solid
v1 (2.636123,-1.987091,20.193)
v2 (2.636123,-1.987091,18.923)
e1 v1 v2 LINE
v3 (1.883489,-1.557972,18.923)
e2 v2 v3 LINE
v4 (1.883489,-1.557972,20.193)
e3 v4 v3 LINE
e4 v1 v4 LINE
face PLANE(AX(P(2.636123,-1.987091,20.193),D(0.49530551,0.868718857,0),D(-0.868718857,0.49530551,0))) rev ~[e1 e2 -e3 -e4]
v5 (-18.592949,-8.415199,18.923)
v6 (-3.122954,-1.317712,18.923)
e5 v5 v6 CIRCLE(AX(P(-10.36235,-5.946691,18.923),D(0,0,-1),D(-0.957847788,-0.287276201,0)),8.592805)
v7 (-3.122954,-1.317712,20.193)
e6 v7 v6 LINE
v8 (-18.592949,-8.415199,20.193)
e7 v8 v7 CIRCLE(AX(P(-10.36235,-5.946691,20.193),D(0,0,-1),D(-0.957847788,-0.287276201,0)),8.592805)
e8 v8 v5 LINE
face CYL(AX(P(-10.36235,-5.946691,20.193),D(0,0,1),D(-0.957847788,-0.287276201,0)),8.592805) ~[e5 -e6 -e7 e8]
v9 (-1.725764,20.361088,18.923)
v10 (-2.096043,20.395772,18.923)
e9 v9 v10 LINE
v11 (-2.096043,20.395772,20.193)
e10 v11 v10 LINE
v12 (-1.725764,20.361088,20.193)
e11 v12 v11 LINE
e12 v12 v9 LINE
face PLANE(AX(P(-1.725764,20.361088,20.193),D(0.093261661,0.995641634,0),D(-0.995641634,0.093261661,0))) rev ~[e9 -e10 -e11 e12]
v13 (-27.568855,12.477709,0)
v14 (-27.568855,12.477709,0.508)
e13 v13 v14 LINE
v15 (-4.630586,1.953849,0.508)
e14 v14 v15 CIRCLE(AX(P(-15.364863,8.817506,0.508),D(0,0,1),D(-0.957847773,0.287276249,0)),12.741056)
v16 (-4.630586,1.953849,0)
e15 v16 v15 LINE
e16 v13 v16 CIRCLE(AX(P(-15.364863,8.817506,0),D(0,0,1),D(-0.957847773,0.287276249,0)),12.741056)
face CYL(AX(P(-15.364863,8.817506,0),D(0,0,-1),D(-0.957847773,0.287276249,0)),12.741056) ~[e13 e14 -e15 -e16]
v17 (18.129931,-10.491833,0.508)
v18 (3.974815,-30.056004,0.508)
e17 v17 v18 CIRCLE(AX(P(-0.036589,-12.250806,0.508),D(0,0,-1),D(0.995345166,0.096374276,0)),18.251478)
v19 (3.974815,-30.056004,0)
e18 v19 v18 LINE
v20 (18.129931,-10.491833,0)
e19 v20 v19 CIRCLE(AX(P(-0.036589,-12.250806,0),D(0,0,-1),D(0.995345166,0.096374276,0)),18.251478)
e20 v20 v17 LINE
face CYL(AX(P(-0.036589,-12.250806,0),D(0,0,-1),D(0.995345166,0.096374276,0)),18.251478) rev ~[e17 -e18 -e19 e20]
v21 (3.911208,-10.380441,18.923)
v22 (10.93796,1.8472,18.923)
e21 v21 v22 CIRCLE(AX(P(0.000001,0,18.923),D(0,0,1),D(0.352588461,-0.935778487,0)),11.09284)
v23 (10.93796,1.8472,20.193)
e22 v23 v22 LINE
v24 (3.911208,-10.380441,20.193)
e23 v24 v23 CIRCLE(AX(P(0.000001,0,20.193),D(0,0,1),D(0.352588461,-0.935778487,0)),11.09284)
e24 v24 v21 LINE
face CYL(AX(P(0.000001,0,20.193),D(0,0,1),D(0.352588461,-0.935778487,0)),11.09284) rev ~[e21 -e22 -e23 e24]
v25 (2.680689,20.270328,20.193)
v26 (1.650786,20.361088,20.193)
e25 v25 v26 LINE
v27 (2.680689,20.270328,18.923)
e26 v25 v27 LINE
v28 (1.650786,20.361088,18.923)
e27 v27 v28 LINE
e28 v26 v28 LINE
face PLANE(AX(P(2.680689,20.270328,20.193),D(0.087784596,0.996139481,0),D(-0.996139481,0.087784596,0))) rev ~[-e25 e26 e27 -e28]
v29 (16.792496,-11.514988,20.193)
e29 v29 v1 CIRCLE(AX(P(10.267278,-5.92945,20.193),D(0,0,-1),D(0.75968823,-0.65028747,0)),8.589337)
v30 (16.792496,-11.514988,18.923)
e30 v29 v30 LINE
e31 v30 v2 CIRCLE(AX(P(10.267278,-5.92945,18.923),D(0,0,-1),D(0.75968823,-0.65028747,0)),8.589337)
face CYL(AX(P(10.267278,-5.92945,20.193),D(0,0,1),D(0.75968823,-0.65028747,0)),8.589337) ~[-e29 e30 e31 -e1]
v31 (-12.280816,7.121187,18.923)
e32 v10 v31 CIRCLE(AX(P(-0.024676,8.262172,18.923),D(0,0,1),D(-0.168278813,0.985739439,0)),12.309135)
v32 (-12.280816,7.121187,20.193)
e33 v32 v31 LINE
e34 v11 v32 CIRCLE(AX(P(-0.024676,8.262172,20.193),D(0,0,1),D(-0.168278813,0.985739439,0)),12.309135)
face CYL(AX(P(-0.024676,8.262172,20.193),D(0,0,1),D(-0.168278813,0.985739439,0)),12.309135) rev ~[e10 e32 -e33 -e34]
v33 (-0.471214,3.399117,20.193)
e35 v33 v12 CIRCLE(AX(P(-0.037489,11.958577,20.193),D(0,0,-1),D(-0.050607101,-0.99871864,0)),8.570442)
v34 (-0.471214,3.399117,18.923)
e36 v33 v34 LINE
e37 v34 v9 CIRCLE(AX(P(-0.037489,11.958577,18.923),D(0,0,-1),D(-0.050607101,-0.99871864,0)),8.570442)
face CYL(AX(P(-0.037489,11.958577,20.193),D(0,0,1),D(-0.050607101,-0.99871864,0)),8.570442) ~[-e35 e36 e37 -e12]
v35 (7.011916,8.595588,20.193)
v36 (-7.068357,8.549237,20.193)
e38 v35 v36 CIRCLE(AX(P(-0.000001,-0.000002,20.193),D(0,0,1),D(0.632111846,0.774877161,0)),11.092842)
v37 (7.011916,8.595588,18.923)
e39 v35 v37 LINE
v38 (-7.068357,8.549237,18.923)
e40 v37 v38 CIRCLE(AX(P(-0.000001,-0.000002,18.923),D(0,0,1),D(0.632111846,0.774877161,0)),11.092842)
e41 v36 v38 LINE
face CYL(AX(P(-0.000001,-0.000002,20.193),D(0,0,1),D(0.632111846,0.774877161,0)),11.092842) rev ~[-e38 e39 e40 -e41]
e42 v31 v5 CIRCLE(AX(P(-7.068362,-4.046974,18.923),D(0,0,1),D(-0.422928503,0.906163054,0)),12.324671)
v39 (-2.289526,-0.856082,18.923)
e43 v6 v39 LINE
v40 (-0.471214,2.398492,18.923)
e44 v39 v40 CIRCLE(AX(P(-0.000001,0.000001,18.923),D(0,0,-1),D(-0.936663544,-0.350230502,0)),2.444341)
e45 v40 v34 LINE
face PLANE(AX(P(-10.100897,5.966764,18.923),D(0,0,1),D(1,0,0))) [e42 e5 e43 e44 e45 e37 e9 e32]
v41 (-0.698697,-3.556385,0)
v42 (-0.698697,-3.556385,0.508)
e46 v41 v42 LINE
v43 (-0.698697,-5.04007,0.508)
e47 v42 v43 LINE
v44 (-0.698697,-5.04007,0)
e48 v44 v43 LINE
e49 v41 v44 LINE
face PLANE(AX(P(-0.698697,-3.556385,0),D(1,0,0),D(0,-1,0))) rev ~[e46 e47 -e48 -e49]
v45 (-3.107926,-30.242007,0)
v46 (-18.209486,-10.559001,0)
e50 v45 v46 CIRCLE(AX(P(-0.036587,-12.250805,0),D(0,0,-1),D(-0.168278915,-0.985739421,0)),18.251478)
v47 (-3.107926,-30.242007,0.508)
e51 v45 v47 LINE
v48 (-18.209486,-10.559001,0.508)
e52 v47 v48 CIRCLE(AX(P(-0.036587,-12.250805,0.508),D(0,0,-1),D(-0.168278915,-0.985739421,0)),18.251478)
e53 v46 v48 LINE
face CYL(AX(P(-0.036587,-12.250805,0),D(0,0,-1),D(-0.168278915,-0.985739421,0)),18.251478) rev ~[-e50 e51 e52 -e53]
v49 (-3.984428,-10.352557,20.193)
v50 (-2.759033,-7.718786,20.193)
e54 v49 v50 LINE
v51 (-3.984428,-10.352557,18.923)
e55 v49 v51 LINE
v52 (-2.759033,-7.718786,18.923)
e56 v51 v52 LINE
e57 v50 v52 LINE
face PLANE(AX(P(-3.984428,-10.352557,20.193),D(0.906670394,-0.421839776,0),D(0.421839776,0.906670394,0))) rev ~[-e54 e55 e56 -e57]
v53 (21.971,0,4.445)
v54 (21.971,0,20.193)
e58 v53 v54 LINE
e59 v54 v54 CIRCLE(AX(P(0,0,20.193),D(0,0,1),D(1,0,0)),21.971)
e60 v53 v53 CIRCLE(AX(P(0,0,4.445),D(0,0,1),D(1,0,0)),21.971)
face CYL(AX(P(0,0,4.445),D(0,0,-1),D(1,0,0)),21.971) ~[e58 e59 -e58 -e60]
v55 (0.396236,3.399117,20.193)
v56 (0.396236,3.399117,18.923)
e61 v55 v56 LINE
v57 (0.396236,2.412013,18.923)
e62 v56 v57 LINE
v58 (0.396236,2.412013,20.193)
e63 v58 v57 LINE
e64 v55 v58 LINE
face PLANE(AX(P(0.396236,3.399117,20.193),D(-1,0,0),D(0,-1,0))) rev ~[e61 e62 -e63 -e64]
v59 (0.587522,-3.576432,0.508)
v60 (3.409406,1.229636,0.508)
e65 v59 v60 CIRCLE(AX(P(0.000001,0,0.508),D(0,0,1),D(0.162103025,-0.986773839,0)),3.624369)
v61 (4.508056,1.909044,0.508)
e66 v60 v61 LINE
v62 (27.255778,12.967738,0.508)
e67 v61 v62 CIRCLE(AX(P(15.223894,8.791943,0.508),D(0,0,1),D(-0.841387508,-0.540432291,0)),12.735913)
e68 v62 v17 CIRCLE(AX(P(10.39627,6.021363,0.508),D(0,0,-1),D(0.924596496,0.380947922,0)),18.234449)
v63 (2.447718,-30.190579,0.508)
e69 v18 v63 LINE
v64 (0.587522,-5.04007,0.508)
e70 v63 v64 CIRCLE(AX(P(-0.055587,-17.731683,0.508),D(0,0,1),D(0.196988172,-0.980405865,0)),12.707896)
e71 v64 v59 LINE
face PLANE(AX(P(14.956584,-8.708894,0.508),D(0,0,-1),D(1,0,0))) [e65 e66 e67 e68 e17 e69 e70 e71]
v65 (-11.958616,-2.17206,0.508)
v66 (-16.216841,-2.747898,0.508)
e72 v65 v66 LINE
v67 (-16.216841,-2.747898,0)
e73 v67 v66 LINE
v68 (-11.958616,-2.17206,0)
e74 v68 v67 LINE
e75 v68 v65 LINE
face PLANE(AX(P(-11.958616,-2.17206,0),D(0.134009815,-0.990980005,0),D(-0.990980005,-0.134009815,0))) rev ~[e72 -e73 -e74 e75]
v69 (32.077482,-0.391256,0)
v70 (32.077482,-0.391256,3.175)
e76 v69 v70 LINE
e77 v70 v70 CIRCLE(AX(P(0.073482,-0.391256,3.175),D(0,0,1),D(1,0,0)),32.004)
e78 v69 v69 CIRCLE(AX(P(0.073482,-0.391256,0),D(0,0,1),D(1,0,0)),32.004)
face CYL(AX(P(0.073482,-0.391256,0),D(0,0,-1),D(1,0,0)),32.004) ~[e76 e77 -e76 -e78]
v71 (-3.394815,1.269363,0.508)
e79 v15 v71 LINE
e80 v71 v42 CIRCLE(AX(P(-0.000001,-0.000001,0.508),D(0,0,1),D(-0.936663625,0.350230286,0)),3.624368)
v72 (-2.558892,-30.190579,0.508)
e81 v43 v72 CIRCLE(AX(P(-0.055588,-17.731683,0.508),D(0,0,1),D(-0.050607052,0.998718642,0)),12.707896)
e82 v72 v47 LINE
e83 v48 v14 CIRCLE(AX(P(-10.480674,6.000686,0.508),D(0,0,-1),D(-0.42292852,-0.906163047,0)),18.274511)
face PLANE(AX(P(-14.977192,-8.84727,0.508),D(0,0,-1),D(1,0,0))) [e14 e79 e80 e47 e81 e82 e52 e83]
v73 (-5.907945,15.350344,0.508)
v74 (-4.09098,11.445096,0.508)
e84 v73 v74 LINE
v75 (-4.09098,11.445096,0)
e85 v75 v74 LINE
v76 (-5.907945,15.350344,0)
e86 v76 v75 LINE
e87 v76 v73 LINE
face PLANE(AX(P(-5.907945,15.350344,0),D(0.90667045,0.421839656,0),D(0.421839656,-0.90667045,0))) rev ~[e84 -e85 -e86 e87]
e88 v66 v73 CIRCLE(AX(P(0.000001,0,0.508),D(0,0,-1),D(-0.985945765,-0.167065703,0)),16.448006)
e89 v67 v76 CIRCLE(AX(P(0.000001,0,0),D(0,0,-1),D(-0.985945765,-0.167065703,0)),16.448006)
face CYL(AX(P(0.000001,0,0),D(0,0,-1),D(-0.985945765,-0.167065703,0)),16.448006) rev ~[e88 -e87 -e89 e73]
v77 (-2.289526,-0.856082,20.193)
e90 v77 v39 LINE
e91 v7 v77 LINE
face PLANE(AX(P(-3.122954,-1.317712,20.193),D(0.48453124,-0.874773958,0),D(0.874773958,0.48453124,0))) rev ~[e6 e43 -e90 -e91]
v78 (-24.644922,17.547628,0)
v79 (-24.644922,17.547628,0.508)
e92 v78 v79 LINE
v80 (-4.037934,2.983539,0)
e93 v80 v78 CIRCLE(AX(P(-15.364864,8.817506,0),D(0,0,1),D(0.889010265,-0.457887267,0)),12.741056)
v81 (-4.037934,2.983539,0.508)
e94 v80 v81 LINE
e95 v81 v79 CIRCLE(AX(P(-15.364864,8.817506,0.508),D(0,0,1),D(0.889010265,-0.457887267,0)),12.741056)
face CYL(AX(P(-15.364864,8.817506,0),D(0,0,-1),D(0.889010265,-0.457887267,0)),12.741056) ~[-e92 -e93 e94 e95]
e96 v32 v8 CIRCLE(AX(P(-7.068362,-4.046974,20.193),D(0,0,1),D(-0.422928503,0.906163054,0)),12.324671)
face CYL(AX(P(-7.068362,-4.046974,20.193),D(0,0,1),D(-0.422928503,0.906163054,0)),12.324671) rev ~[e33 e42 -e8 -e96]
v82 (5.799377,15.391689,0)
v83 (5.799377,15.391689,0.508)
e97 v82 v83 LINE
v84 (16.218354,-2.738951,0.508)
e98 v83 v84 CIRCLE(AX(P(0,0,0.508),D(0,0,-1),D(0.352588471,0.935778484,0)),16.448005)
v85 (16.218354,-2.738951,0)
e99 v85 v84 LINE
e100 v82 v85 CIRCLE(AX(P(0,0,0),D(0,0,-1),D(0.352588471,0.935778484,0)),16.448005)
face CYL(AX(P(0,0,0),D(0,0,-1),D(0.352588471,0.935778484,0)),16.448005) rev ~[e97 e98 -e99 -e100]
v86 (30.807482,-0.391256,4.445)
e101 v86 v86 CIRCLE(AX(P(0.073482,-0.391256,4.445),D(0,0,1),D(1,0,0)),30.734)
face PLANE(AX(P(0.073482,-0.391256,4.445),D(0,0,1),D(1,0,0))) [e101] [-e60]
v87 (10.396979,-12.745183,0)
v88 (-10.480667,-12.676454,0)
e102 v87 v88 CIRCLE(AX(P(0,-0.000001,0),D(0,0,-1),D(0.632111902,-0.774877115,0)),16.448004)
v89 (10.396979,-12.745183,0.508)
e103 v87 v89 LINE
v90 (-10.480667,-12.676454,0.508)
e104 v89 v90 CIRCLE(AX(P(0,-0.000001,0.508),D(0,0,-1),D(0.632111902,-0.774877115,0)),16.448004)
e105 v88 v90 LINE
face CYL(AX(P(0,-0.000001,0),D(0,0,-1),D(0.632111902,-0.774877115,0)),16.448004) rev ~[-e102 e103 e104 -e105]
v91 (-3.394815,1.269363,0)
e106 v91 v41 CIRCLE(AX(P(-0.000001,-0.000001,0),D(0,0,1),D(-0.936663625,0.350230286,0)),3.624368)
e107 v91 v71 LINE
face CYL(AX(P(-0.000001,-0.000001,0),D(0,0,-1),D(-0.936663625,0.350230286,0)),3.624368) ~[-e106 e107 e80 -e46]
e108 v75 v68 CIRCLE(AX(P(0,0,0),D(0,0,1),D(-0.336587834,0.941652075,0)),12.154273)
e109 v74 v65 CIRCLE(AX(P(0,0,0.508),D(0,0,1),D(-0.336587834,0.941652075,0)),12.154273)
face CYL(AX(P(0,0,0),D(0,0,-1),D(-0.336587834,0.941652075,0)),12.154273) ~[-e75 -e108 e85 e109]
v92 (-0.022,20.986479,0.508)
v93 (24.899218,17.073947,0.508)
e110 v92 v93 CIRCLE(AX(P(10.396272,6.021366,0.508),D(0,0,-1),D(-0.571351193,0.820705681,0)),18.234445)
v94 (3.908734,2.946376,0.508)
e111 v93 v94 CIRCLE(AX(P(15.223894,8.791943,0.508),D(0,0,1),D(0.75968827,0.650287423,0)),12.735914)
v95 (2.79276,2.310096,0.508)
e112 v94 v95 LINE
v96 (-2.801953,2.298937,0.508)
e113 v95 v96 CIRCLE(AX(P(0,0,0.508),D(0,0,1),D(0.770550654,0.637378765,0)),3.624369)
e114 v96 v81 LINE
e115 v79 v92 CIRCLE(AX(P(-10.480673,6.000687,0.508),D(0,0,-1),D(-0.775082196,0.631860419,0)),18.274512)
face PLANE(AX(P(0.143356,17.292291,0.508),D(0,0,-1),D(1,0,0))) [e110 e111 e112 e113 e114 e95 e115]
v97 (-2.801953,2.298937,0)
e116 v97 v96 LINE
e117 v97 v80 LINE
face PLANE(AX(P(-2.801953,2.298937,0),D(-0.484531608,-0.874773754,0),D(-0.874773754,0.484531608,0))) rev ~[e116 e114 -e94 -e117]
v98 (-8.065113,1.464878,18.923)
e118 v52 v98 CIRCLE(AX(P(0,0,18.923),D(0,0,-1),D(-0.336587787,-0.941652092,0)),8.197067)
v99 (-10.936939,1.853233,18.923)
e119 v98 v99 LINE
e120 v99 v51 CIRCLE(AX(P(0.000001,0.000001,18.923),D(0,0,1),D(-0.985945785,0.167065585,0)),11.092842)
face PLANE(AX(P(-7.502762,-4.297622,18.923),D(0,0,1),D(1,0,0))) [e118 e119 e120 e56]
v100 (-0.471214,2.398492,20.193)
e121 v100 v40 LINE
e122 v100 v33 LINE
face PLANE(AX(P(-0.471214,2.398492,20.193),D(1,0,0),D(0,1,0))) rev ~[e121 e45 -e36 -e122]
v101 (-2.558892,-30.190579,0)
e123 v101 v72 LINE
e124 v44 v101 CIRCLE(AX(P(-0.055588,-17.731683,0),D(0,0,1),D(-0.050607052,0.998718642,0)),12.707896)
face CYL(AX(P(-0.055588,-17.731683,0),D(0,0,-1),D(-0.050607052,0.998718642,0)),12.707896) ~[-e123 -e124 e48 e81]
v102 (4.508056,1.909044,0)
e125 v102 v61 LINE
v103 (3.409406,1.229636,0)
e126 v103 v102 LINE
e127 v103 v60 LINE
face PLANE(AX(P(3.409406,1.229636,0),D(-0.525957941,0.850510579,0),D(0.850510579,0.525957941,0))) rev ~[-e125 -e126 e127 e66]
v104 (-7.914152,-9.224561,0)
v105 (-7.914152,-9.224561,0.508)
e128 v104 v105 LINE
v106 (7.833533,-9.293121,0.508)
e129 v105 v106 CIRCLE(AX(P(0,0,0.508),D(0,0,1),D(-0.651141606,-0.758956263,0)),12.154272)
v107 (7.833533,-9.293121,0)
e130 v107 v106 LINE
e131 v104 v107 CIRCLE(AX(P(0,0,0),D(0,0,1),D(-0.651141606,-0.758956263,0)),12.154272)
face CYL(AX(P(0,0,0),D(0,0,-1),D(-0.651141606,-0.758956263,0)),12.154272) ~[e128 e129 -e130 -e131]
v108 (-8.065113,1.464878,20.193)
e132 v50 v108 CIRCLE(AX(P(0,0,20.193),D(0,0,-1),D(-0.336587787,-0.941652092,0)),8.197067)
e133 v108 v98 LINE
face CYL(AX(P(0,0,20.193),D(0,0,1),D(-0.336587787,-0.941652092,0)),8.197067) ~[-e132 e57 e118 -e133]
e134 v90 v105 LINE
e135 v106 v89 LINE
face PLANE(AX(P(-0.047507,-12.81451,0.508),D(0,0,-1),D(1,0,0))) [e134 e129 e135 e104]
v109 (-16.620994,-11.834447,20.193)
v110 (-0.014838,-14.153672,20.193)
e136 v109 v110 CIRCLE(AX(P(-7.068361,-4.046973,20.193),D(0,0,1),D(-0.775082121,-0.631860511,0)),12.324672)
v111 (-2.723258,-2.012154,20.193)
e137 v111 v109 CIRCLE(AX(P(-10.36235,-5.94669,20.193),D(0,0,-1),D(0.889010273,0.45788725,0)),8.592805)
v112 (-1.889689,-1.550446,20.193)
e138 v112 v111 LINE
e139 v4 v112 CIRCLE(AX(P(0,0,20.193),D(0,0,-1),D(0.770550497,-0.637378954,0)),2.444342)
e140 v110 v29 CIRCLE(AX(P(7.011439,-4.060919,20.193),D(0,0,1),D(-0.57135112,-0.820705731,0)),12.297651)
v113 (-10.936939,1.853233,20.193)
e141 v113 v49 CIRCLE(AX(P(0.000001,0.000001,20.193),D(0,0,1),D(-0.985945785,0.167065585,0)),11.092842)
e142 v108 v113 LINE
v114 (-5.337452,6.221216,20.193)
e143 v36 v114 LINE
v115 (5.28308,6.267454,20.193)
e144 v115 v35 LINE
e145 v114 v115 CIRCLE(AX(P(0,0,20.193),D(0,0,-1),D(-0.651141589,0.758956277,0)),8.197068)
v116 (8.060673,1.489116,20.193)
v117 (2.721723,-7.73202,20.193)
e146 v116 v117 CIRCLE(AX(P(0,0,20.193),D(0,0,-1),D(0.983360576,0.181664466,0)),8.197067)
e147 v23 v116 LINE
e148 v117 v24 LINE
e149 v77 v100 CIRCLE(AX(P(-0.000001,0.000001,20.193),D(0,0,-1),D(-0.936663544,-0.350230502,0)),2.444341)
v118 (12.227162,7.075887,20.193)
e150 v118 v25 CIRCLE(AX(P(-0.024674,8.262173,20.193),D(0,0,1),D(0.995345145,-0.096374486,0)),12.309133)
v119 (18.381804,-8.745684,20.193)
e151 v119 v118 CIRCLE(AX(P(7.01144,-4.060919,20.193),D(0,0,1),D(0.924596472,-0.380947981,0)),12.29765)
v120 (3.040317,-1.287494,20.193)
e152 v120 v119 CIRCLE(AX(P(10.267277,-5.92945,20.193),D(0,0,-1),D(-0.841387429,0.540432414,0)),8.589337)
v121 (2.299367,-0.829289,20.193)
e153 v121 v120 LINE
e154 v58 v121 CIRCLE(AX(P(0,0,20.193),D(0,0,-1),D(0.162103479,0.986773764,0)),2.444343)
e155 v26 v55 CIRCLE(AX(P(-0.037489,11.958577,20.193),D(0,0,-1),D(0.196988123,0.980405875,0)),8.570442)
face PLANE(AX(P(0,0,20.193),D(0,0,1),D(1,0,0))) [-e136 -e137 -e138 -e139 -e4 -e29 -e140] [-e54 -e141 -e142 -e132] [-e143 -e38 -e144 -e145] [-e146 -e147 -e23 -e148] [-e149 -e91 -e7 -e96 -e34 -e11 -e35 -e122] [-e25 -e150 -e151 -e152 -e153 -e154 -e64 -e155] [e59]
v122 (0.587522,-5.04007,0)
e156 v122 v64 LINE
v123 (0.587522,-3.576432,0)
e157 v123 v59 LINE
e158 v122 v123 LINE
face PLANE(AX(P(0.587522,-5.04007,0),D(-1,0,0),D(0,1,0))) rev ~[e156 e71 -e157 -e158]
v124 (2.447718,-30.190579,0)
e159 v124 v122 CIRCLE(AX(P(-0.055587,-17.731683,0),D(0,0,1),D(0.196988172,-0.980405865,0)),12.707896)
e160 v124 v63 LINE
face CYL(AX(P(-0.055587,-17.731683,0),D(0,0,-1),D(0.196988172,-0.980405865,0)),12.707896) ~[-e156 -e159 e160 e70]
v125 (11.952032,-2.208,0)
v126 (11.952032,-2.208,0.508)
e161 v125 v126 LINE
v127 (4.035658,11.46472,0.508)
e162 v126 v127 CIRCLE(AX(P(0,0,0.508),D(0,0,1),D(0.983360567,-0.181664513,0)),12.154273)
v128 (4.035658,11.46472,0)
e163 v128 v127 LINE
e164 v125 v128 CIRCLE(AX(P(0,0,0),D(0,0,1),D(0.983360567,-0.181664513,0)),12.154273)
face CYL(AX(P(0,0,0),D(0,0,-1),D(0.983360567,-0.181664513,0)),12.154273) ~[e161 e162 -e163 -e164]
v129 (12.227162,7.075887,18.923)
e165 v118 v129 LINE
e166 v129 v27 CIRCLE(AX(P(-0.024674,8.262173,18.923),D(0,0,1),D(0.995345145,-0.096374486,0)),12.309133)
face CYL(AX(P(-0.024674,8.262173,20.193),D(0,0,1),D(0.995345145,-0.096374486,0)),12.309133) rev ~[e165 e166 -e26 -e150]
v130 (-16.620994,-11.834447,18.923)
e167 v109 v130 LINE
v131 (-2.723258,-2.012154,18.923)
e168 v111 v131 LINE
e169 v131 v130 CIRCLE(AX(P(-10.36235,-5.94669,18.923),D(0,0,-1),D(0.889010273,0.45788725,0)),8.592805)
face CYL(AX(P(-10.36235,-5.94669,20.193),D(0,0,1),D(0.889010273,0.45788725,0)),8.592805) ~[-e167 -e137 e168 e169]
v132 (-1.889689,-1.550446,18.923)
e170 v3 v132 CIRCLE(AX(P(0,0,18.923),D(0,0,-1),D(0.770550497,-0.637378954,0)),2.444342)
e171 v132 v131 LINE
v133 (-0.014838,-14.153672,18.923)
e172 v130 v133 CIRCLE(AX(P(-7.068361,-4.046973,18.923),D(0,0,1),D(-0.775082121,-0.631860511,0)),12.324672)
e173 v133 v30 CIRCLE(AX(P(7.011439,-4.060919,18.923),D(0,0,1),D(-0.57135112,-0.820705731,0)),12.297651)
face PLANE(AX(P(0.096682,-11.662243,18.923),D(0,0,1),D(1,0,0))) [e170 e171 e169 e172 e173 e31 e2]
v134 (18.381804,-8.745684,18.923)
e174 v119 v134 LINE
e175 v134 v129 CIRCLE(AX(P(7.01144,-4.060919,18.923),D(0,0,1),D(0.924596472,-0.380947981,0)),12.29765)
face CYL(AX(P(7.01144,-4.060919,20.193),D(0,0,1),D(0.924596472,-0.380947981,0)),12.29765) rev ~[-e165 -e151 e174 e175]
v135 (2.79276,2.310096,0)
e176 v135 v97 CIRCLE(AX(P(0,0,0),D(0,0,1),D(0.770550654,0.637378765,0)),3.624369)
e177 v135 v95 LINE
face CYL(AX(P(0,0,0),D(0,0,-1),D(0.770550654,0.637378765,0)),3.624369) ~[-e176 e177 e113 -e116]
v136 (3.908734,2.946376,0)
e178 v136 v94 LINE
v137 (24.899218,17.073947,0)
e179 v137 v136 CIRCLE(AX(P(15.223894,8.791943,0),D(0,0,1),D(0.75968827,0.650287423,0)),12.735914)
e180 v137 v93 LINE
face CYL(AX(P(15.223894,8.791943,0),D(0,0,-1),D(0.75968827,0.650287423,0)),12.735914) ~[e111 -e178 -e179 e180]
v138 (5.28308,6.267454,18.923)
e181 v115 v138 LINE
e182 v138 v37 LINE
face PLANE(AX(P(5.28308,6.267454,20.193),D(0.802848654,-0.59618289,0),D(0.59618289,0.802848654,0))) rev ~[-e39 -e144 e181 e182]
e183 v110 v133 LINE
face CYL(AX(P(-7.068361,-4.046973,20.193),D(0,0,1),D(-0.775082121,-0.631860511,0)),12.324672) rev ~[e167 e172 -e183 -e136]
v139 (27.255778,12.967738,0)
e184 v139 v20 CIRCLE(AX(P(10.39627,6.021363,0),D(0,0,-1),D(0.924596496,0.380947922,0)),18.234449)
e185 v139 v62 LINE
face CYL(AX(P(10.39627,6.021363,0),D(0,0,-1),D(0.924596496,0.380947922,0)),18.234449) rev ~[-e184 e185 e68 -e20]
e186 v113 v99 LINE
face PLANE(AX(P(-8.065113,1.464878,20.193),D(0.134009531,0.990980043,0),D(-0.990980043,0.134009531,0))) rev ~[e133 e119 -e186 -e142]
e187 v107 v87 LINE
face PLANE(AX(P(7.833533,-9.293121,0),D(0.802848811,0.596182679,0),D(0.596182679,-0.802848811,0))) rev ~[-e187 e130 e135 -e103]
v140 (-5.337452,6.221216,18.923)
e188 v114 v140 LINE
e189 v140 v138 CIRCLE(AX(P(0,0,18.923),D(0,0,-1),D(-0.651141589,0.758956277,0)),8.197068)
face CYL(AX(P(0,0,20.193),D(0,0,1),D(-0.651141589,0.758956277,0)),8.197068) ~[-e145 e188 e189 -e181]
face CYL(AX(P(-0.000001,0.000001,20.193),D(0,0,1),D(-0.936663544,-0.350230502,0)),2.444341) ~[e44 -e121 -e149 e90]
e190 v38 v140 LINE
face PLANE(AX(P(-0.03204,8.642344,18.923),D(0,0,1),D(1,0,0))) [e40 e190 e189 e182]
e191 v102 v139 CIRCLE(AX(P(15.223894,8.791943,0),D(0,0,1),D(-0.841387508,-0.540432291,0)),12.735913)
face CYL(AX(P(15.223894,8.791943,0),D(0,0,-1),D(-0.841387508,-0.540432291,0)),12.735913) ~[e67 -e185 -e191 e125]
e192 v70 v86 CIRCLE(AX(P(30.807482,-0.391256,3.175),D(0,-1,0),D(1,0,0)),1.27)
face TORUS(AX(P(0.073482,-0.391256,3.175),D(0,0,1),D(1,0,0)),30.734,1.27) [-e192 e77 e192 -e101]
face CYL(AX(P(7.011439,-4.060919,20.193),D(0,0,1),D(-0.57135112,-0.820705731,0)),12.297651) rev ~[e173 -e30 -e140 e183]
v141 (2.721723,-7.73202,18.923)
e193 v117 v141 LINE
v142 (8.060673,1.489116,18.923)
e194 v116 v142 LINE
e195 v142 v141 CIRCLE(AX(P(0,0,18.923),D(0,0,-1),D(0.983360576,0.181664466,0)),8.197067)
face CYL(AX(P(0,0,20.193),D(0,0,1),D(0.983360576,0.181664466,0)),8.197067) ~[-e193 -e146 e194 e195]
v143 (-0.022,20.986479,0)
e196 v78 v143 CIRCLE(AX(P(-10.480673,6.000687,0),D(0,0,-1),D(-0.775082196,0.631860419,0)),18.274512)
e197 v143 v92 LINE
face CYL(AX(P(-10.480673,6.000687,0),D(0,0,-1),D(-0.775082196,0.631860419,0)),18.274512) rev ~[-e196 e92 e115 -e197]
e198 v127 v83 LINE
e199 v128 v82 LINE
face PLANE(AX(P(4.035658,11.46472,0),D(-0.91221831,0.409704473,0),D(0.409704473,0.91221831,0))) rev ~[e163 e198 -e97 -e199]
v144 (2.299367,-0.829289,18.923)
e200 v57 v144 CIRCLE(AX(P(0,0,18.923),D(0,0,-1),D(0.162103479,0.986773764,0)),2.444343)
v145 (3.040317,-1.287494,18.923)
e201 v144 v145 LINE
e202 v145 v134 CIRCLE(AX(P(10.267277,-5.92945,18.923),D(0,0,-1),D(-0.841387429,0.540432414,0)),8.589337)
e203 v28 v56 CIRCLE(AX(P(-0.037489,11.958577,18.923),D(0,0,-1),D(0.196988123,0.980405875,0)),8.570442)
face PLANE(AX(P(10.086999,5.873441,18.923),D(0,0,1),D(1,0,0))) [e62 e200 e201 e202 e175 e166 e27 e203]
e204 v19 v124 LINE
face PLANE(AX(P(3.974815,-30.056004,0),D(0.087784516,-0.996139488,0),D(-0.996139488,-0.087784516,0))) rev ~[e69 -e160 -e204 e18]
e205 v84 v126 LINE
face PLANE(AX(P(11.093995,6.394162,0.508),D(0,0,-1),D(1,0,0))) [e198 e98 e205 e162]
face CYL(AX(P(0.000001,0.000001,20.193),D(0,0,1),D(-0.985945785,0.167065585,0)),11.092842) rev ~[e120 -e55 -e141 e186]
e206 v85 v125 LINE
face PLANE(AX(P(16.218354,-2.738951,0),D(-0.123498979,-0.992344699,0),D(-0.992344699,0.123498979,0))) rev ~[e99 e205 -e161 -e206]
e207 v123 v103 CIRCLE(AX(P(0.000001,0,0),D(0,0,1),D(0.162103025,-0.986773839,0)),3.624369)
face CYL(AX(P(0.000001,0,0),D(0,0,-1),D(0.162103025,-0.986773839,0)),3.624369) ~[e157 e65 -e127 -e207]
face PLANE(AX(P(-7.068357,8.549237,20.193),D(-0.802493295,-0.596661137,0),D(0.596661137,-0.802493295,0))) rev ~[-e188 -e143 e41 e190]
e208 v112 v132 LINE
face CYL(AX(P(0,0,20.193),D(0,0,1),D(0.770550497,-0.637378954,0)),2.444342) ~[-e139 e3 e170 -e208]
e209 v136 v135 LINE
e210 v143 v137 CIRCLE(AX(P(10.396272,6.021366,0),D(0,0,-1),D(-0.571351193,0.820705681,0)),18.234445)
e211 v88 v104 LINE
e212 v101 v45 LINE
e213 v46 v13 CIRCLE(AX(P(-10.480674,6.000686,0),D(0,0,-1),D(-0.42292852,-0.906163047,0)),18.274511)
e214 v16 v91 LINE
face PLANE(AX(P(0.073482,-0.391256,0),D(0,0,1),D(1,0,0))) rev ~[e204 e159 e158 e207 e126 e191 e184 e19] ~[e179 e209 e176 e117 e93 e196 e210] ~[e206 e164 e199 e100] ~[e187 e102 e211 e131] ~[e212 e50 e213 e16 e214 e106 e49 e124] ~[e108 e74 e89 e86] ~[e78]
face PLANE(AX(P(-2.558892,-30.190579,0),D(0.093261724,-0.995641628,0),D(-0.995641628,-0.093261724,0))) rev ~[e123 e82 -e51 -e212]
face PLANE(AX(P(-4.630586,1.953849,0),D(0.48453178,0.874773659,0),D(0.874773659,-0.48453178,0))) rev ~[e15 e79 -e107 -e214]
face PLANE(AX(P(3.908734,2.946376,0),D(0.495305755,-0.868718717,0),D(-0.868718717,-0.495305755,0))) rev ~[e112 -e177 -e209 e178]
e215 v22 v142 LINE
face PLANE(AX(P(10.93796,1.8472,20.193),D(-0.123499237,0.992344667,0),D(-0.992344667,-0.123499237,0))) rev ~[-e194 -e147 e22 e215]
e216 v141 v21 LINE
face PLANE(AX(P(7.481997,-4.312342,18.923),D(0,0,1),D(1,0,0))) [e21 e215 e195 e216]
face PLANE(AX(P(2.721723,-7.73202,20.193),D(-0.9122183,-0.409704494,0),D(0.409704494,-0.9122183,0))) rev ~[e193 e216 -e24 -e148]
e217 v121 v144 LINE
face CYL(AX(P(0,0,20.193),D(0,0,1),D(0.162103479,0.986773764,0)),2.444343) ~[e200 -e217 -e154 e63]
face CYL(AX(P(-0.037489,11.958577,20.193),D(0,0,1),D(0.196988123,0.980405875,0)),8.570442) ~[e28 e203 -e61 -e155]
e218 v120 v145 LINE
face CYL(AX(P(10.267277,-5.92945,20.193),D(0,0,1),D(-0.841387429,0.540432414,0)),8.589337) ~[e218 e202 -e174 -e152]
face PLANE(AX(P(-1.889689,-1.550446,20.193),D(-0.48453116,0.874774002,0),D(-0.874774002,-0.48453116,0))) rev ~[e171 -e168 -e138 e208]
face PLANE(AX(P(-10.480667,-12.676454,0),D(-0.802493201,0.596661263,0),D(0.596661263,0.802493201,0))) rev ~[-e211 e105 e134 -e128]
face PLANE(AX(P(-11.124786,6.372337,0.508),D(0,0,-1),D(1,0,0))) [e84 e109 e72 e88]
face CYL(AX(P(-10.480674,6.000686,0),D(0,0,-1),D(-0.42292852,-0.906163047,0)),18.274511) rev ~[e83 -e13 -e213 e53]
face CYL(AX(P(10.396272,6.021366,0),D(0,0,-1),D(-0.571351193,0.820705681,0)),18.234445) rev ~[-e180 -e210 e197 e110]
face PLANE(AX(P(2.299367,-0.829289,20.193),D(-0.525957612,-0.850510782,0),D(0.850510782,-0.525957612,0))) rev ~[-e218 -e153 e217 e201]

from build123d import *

# Parameters (mm, degrees)
F0_R     = 32.004
F1_DEPTH = 4.445
F2_R     = 21.971
F3_DEPTH = 15.748
F4_R     = 1.27
F6_DEPTH = 1.27
F8_DEPTH = 0.508


with BuildPart() as f1:
    # F0 (on Top) → F1 (new body)
    with BuildSketch(Plane.XY):
        with Locations((0.073482, -0.391256)):
            Circle(F0_R)
    extrude(amount=F1_DEPTH)

    # F2 (on face) → F3 (join)
    with BuildSketch(Plane.XY.offset(4.445)):
        Circle(F2_R)
    extrude(amount=F3_DEPTH)

    # F4
    f4_edges = [f1.edges().sort_by_distance(p)[0] for p in [
        (-31.930518, -0.391256, 4.445),
    ]]
    fillet(f4_edges, radius=F4_R)

    # F5 (on face) → F6 (cut)
    with BuildSketch(Plane.XY.offset(20.193)):
        with BuildLine():
            ThreePointArc((-2.289526, -0.856082), (-2.13389, 1.192192), (-0.471214, 2.398492))
            Line((-0.471214, 2.398492), (-0.471214, 3.399117))
            ThreePointArc((-0.471214, 3.399117), (-8.584584, 11.326412), (-1.725764, 20.361088))
            Line((-1.725764, 20.361088), (-2.096043, 20.395772))
            ThreePointArc((-2.096043, 20.395772), (-9.790587, 15.754955), (-12.280816, 7.121187))
            ThreePointArc((-12.280816, 7.121187), (-18.486635, 0.592049), (-18.592949, -8.415199))
            ThreePointArc((-18.592949, -8.415199), (-13.945533, 1.863373), (-3.122954, -1.317712))
            Line((-3.122954, -1.317712), (-2.289526, -0.856082))
        make_face()
        with BuildLine():
            ThreePointArc((7.011916, 8.595588), (-0.036517, 11.09278), (-7.068357, 8.549237))
            Line((-7.068357, 8.549237), (-5.337452, 6.221216))
            ThreePointArc((-5.337452, 6.221216), (-0.035687, 8.19699), (5.28308, 6.267454))
            Line((5.28308, 6.267454), (7.011916, 8.595588))
        make_face()
        with BuildLine():
            ThreePointArc((1.650786, 20.361088), (8.509606, 11.326412), (0.396236, 3.399117))
            Line((0.396236, 3.399117), (0.396236, 2.412013))
            ThreePointArc((0.396236, 2.412013), (2.107861, 1.237631), (2.299367, -0.829289))
            Line((2.299367, -0.829289), (3.040317, -1.287494))
            ThreePointArc((3.040317, -1.287494), (14.022686, 1.79542), (18.381804, -8.745684))
            ThreePointArc((18.381804, -8.745684), (18.472465, 0.397456), (12.227162, 7.075887))
            ThreePointArc((12.227162, 7.075887), (9.947927, 15.477573), (2.680689, 20.270328))
            Line((2.680689, 20.270328), (1.650786, 20.361088))
        make_face()
        with BuildLine():
            Line((10.93796, 1.8472), (8.060673, 1.489116))
            ThreePointArc((8.060673, 1.489116), (7.093825, -4.107257), (2.721723, -7.73202))
            Line((2.721723, -7.73202), (3.911208, -10.380441))
            ThreePointArc((3.911208, -10.380441), (9.617861, -5.527012), (10.93796, 1.8472))
        make_face()
        with BuildLine():
            ThreePointArc((16.792496, -11.514988), (5.471344, -13.055159), (2.636123, -1.987091))
            Line((2.636123, -1.987091), (1.883489, -1.557972))
            ThreePointArc((1.883489, -1.557972), (-0.004876, -2.444337), (-1.889689, -1.550446))
            Line((-1.889689, -1.550446), (-2.723258, -2.012154))
            ThreePointArc((-2.723258, -2.012154), (-5.402938, -12.96385), (-16.620994, -11.834447))
            ThreePointArc((-16.620994, -11.834447), (-8.773086, -16.253179), (-0.014838, -14.153672))
            ThreePointArc((-0.014838, -14.153672), (8.918758, -16.209761), (16.792496, -11.514988))
        make_face()
        with BuildLine():
            Line((-8.065113, 1.464878), (-10.936939, 1.853233))
            ThreePointArc((-10.936939, 1.853233), (-9.638834, -5.490353), (-3.984428, -10.352557))
            Line((-3.984428, -10.352557), (-2.759033, -7.718786))
            ThreePointArc((-2.759033, -7.718786), (-7.097567, -4.100788), (-8.065113, 1.464878))
        make_face()
    extrude(amount=-F6_DEPTH, mode=Mode.SUBTRACT)

    # F7 (on face) → F8 (cut)
    with BuildSketch(Plane(origin=(0, 0, 0), x_dir=(1, 0, 0), z_dir=(0, 0, -1))):
        with BuildLine():
            ThreePointArc((-3.394815, -1.269363), (-3.164044, 1.767733), (-0.698697, 3.556385))
            Line((-0.698697, 3.556385), (-0.698697, 5.04007))
            ThreePointArc((-0.698697, 5.04007), (-12.728867, 16.794335), (-2.558892, 30.190579))
            Line((-2.558892, 30.190579), (-3.107926, 30.242007))
            ThreePointArc((-3.107926, 30.242007), (-14.517077, 23.360795), (-18.209486, 10.559001))
            ThreePointArc((-18.209486, 10.559001), (-27.411217, 0.877866), (-27.568855, -12.477709))
            ThreePointArc((-27.568855, -12.477709), (-20.677859, 2.762933), (-4.630586, -1.953849))
            Line((-4.630586, -1.953849), (-3.394815, -1.269363))
        make_face()
        with BuildLine():
            ThreePointArc((10.396979, 12.745183), (-0.054146, 16.447916), (-10.480667, 12.676454))
            Line((-10.480667, 12.676454), (-7.914152, 9.224561))
            ThreePointArc((-7.914152, 9.224561), (-0.052915, 12.154157), (7.833533, 9.293121))
            Line((7.833533, 9.293121), (10.396979, 12.745183))
        make_face()
        with BuildLine():
            ThreePointArc((2.447718, 30.190579), (12.617692, 16.794335), (0.587522, 5.04007))
            Line((0.587522, 5.04007), (0.587522, 3.576432))
            ThreePointArc((0.587522, 3.576432), (3.125449, 1.835108), (3.409406, -1.229636))
            Line((3.409406, -1.229636), (4.508056, -1.909044))
            ThreePointArc((4.508056, -1.909044), (20.792258, 2.662175), (27.255778, -12.967738))
            ThreePointArc((27.255778, -12.967738), (27.390206, 0.589332), (18.129931, 10.491833))
            ThreePointArc((18.129931, 10.491833), (14.750374, 22.949505), (3.974815, 30.056004))
            Line((3.974815, 30.056004), (2.447718, 30.190579))
        make_face()
        with BuildLine():
            Line((16.218354, 2.738951), (11.952032, 2.208))
            ThreePointArc((11.952032, 2.208), (10.51843, -6.090071), (4.035658, -11.46472))
            Line((4.035658, -11.46472), (5.799377, -15.391689))
            ThreePointArc((5.799377, -15.391689), (14.260966, -8.195225), (16.218354, 2.738951))
        make_face()
        with BuildLine():
            ThreePointArc((24.899218, -17.073947), (8.112683, -19.35765), (3.908734, -2.946376))
            Line((3.908734, -2.946376), (2.79276, -2.310096))
            ThreePointArc((2.79276, -2.310096), (-0.007229, -3.624362), (-2.801953, -2.298937))
            Line((-2.801953, -2.298937), (-4.037934, -2.983539))
            ThreePointArc((-4.037934, -2.983539), (-8.011253, -19.222261), (-24.644922, -17.547628))
            ThreePointArc((-24.644922, -17.547628), (-13.008369, -24.099542), (-0.022, -20.986479))
            ThreePointArc((-0.022, -20.986479), (13.224366, -24.035163), (24.899218, -17.073947))
        make_face()
        with BuildLine():
            Line((-11.958616, 2.17206), (-16.216841, 2.747898))
            ThreePointArc((-16.216841, 2.747898), (-14.292065, -8.140869), (-5.907945, -15.350344))
            Line((-5.907945, -15.350344), (-4.09098, -11.445096))
            ThreePointArc((-4.09098, -11.445096), (-10.523978, -6.080479), (-11.958616, 2.17206))
        make_face()
    extrude(amount=-F8_DEPTH, mode=Mode.SUBTRACT)


solid = f1.part
